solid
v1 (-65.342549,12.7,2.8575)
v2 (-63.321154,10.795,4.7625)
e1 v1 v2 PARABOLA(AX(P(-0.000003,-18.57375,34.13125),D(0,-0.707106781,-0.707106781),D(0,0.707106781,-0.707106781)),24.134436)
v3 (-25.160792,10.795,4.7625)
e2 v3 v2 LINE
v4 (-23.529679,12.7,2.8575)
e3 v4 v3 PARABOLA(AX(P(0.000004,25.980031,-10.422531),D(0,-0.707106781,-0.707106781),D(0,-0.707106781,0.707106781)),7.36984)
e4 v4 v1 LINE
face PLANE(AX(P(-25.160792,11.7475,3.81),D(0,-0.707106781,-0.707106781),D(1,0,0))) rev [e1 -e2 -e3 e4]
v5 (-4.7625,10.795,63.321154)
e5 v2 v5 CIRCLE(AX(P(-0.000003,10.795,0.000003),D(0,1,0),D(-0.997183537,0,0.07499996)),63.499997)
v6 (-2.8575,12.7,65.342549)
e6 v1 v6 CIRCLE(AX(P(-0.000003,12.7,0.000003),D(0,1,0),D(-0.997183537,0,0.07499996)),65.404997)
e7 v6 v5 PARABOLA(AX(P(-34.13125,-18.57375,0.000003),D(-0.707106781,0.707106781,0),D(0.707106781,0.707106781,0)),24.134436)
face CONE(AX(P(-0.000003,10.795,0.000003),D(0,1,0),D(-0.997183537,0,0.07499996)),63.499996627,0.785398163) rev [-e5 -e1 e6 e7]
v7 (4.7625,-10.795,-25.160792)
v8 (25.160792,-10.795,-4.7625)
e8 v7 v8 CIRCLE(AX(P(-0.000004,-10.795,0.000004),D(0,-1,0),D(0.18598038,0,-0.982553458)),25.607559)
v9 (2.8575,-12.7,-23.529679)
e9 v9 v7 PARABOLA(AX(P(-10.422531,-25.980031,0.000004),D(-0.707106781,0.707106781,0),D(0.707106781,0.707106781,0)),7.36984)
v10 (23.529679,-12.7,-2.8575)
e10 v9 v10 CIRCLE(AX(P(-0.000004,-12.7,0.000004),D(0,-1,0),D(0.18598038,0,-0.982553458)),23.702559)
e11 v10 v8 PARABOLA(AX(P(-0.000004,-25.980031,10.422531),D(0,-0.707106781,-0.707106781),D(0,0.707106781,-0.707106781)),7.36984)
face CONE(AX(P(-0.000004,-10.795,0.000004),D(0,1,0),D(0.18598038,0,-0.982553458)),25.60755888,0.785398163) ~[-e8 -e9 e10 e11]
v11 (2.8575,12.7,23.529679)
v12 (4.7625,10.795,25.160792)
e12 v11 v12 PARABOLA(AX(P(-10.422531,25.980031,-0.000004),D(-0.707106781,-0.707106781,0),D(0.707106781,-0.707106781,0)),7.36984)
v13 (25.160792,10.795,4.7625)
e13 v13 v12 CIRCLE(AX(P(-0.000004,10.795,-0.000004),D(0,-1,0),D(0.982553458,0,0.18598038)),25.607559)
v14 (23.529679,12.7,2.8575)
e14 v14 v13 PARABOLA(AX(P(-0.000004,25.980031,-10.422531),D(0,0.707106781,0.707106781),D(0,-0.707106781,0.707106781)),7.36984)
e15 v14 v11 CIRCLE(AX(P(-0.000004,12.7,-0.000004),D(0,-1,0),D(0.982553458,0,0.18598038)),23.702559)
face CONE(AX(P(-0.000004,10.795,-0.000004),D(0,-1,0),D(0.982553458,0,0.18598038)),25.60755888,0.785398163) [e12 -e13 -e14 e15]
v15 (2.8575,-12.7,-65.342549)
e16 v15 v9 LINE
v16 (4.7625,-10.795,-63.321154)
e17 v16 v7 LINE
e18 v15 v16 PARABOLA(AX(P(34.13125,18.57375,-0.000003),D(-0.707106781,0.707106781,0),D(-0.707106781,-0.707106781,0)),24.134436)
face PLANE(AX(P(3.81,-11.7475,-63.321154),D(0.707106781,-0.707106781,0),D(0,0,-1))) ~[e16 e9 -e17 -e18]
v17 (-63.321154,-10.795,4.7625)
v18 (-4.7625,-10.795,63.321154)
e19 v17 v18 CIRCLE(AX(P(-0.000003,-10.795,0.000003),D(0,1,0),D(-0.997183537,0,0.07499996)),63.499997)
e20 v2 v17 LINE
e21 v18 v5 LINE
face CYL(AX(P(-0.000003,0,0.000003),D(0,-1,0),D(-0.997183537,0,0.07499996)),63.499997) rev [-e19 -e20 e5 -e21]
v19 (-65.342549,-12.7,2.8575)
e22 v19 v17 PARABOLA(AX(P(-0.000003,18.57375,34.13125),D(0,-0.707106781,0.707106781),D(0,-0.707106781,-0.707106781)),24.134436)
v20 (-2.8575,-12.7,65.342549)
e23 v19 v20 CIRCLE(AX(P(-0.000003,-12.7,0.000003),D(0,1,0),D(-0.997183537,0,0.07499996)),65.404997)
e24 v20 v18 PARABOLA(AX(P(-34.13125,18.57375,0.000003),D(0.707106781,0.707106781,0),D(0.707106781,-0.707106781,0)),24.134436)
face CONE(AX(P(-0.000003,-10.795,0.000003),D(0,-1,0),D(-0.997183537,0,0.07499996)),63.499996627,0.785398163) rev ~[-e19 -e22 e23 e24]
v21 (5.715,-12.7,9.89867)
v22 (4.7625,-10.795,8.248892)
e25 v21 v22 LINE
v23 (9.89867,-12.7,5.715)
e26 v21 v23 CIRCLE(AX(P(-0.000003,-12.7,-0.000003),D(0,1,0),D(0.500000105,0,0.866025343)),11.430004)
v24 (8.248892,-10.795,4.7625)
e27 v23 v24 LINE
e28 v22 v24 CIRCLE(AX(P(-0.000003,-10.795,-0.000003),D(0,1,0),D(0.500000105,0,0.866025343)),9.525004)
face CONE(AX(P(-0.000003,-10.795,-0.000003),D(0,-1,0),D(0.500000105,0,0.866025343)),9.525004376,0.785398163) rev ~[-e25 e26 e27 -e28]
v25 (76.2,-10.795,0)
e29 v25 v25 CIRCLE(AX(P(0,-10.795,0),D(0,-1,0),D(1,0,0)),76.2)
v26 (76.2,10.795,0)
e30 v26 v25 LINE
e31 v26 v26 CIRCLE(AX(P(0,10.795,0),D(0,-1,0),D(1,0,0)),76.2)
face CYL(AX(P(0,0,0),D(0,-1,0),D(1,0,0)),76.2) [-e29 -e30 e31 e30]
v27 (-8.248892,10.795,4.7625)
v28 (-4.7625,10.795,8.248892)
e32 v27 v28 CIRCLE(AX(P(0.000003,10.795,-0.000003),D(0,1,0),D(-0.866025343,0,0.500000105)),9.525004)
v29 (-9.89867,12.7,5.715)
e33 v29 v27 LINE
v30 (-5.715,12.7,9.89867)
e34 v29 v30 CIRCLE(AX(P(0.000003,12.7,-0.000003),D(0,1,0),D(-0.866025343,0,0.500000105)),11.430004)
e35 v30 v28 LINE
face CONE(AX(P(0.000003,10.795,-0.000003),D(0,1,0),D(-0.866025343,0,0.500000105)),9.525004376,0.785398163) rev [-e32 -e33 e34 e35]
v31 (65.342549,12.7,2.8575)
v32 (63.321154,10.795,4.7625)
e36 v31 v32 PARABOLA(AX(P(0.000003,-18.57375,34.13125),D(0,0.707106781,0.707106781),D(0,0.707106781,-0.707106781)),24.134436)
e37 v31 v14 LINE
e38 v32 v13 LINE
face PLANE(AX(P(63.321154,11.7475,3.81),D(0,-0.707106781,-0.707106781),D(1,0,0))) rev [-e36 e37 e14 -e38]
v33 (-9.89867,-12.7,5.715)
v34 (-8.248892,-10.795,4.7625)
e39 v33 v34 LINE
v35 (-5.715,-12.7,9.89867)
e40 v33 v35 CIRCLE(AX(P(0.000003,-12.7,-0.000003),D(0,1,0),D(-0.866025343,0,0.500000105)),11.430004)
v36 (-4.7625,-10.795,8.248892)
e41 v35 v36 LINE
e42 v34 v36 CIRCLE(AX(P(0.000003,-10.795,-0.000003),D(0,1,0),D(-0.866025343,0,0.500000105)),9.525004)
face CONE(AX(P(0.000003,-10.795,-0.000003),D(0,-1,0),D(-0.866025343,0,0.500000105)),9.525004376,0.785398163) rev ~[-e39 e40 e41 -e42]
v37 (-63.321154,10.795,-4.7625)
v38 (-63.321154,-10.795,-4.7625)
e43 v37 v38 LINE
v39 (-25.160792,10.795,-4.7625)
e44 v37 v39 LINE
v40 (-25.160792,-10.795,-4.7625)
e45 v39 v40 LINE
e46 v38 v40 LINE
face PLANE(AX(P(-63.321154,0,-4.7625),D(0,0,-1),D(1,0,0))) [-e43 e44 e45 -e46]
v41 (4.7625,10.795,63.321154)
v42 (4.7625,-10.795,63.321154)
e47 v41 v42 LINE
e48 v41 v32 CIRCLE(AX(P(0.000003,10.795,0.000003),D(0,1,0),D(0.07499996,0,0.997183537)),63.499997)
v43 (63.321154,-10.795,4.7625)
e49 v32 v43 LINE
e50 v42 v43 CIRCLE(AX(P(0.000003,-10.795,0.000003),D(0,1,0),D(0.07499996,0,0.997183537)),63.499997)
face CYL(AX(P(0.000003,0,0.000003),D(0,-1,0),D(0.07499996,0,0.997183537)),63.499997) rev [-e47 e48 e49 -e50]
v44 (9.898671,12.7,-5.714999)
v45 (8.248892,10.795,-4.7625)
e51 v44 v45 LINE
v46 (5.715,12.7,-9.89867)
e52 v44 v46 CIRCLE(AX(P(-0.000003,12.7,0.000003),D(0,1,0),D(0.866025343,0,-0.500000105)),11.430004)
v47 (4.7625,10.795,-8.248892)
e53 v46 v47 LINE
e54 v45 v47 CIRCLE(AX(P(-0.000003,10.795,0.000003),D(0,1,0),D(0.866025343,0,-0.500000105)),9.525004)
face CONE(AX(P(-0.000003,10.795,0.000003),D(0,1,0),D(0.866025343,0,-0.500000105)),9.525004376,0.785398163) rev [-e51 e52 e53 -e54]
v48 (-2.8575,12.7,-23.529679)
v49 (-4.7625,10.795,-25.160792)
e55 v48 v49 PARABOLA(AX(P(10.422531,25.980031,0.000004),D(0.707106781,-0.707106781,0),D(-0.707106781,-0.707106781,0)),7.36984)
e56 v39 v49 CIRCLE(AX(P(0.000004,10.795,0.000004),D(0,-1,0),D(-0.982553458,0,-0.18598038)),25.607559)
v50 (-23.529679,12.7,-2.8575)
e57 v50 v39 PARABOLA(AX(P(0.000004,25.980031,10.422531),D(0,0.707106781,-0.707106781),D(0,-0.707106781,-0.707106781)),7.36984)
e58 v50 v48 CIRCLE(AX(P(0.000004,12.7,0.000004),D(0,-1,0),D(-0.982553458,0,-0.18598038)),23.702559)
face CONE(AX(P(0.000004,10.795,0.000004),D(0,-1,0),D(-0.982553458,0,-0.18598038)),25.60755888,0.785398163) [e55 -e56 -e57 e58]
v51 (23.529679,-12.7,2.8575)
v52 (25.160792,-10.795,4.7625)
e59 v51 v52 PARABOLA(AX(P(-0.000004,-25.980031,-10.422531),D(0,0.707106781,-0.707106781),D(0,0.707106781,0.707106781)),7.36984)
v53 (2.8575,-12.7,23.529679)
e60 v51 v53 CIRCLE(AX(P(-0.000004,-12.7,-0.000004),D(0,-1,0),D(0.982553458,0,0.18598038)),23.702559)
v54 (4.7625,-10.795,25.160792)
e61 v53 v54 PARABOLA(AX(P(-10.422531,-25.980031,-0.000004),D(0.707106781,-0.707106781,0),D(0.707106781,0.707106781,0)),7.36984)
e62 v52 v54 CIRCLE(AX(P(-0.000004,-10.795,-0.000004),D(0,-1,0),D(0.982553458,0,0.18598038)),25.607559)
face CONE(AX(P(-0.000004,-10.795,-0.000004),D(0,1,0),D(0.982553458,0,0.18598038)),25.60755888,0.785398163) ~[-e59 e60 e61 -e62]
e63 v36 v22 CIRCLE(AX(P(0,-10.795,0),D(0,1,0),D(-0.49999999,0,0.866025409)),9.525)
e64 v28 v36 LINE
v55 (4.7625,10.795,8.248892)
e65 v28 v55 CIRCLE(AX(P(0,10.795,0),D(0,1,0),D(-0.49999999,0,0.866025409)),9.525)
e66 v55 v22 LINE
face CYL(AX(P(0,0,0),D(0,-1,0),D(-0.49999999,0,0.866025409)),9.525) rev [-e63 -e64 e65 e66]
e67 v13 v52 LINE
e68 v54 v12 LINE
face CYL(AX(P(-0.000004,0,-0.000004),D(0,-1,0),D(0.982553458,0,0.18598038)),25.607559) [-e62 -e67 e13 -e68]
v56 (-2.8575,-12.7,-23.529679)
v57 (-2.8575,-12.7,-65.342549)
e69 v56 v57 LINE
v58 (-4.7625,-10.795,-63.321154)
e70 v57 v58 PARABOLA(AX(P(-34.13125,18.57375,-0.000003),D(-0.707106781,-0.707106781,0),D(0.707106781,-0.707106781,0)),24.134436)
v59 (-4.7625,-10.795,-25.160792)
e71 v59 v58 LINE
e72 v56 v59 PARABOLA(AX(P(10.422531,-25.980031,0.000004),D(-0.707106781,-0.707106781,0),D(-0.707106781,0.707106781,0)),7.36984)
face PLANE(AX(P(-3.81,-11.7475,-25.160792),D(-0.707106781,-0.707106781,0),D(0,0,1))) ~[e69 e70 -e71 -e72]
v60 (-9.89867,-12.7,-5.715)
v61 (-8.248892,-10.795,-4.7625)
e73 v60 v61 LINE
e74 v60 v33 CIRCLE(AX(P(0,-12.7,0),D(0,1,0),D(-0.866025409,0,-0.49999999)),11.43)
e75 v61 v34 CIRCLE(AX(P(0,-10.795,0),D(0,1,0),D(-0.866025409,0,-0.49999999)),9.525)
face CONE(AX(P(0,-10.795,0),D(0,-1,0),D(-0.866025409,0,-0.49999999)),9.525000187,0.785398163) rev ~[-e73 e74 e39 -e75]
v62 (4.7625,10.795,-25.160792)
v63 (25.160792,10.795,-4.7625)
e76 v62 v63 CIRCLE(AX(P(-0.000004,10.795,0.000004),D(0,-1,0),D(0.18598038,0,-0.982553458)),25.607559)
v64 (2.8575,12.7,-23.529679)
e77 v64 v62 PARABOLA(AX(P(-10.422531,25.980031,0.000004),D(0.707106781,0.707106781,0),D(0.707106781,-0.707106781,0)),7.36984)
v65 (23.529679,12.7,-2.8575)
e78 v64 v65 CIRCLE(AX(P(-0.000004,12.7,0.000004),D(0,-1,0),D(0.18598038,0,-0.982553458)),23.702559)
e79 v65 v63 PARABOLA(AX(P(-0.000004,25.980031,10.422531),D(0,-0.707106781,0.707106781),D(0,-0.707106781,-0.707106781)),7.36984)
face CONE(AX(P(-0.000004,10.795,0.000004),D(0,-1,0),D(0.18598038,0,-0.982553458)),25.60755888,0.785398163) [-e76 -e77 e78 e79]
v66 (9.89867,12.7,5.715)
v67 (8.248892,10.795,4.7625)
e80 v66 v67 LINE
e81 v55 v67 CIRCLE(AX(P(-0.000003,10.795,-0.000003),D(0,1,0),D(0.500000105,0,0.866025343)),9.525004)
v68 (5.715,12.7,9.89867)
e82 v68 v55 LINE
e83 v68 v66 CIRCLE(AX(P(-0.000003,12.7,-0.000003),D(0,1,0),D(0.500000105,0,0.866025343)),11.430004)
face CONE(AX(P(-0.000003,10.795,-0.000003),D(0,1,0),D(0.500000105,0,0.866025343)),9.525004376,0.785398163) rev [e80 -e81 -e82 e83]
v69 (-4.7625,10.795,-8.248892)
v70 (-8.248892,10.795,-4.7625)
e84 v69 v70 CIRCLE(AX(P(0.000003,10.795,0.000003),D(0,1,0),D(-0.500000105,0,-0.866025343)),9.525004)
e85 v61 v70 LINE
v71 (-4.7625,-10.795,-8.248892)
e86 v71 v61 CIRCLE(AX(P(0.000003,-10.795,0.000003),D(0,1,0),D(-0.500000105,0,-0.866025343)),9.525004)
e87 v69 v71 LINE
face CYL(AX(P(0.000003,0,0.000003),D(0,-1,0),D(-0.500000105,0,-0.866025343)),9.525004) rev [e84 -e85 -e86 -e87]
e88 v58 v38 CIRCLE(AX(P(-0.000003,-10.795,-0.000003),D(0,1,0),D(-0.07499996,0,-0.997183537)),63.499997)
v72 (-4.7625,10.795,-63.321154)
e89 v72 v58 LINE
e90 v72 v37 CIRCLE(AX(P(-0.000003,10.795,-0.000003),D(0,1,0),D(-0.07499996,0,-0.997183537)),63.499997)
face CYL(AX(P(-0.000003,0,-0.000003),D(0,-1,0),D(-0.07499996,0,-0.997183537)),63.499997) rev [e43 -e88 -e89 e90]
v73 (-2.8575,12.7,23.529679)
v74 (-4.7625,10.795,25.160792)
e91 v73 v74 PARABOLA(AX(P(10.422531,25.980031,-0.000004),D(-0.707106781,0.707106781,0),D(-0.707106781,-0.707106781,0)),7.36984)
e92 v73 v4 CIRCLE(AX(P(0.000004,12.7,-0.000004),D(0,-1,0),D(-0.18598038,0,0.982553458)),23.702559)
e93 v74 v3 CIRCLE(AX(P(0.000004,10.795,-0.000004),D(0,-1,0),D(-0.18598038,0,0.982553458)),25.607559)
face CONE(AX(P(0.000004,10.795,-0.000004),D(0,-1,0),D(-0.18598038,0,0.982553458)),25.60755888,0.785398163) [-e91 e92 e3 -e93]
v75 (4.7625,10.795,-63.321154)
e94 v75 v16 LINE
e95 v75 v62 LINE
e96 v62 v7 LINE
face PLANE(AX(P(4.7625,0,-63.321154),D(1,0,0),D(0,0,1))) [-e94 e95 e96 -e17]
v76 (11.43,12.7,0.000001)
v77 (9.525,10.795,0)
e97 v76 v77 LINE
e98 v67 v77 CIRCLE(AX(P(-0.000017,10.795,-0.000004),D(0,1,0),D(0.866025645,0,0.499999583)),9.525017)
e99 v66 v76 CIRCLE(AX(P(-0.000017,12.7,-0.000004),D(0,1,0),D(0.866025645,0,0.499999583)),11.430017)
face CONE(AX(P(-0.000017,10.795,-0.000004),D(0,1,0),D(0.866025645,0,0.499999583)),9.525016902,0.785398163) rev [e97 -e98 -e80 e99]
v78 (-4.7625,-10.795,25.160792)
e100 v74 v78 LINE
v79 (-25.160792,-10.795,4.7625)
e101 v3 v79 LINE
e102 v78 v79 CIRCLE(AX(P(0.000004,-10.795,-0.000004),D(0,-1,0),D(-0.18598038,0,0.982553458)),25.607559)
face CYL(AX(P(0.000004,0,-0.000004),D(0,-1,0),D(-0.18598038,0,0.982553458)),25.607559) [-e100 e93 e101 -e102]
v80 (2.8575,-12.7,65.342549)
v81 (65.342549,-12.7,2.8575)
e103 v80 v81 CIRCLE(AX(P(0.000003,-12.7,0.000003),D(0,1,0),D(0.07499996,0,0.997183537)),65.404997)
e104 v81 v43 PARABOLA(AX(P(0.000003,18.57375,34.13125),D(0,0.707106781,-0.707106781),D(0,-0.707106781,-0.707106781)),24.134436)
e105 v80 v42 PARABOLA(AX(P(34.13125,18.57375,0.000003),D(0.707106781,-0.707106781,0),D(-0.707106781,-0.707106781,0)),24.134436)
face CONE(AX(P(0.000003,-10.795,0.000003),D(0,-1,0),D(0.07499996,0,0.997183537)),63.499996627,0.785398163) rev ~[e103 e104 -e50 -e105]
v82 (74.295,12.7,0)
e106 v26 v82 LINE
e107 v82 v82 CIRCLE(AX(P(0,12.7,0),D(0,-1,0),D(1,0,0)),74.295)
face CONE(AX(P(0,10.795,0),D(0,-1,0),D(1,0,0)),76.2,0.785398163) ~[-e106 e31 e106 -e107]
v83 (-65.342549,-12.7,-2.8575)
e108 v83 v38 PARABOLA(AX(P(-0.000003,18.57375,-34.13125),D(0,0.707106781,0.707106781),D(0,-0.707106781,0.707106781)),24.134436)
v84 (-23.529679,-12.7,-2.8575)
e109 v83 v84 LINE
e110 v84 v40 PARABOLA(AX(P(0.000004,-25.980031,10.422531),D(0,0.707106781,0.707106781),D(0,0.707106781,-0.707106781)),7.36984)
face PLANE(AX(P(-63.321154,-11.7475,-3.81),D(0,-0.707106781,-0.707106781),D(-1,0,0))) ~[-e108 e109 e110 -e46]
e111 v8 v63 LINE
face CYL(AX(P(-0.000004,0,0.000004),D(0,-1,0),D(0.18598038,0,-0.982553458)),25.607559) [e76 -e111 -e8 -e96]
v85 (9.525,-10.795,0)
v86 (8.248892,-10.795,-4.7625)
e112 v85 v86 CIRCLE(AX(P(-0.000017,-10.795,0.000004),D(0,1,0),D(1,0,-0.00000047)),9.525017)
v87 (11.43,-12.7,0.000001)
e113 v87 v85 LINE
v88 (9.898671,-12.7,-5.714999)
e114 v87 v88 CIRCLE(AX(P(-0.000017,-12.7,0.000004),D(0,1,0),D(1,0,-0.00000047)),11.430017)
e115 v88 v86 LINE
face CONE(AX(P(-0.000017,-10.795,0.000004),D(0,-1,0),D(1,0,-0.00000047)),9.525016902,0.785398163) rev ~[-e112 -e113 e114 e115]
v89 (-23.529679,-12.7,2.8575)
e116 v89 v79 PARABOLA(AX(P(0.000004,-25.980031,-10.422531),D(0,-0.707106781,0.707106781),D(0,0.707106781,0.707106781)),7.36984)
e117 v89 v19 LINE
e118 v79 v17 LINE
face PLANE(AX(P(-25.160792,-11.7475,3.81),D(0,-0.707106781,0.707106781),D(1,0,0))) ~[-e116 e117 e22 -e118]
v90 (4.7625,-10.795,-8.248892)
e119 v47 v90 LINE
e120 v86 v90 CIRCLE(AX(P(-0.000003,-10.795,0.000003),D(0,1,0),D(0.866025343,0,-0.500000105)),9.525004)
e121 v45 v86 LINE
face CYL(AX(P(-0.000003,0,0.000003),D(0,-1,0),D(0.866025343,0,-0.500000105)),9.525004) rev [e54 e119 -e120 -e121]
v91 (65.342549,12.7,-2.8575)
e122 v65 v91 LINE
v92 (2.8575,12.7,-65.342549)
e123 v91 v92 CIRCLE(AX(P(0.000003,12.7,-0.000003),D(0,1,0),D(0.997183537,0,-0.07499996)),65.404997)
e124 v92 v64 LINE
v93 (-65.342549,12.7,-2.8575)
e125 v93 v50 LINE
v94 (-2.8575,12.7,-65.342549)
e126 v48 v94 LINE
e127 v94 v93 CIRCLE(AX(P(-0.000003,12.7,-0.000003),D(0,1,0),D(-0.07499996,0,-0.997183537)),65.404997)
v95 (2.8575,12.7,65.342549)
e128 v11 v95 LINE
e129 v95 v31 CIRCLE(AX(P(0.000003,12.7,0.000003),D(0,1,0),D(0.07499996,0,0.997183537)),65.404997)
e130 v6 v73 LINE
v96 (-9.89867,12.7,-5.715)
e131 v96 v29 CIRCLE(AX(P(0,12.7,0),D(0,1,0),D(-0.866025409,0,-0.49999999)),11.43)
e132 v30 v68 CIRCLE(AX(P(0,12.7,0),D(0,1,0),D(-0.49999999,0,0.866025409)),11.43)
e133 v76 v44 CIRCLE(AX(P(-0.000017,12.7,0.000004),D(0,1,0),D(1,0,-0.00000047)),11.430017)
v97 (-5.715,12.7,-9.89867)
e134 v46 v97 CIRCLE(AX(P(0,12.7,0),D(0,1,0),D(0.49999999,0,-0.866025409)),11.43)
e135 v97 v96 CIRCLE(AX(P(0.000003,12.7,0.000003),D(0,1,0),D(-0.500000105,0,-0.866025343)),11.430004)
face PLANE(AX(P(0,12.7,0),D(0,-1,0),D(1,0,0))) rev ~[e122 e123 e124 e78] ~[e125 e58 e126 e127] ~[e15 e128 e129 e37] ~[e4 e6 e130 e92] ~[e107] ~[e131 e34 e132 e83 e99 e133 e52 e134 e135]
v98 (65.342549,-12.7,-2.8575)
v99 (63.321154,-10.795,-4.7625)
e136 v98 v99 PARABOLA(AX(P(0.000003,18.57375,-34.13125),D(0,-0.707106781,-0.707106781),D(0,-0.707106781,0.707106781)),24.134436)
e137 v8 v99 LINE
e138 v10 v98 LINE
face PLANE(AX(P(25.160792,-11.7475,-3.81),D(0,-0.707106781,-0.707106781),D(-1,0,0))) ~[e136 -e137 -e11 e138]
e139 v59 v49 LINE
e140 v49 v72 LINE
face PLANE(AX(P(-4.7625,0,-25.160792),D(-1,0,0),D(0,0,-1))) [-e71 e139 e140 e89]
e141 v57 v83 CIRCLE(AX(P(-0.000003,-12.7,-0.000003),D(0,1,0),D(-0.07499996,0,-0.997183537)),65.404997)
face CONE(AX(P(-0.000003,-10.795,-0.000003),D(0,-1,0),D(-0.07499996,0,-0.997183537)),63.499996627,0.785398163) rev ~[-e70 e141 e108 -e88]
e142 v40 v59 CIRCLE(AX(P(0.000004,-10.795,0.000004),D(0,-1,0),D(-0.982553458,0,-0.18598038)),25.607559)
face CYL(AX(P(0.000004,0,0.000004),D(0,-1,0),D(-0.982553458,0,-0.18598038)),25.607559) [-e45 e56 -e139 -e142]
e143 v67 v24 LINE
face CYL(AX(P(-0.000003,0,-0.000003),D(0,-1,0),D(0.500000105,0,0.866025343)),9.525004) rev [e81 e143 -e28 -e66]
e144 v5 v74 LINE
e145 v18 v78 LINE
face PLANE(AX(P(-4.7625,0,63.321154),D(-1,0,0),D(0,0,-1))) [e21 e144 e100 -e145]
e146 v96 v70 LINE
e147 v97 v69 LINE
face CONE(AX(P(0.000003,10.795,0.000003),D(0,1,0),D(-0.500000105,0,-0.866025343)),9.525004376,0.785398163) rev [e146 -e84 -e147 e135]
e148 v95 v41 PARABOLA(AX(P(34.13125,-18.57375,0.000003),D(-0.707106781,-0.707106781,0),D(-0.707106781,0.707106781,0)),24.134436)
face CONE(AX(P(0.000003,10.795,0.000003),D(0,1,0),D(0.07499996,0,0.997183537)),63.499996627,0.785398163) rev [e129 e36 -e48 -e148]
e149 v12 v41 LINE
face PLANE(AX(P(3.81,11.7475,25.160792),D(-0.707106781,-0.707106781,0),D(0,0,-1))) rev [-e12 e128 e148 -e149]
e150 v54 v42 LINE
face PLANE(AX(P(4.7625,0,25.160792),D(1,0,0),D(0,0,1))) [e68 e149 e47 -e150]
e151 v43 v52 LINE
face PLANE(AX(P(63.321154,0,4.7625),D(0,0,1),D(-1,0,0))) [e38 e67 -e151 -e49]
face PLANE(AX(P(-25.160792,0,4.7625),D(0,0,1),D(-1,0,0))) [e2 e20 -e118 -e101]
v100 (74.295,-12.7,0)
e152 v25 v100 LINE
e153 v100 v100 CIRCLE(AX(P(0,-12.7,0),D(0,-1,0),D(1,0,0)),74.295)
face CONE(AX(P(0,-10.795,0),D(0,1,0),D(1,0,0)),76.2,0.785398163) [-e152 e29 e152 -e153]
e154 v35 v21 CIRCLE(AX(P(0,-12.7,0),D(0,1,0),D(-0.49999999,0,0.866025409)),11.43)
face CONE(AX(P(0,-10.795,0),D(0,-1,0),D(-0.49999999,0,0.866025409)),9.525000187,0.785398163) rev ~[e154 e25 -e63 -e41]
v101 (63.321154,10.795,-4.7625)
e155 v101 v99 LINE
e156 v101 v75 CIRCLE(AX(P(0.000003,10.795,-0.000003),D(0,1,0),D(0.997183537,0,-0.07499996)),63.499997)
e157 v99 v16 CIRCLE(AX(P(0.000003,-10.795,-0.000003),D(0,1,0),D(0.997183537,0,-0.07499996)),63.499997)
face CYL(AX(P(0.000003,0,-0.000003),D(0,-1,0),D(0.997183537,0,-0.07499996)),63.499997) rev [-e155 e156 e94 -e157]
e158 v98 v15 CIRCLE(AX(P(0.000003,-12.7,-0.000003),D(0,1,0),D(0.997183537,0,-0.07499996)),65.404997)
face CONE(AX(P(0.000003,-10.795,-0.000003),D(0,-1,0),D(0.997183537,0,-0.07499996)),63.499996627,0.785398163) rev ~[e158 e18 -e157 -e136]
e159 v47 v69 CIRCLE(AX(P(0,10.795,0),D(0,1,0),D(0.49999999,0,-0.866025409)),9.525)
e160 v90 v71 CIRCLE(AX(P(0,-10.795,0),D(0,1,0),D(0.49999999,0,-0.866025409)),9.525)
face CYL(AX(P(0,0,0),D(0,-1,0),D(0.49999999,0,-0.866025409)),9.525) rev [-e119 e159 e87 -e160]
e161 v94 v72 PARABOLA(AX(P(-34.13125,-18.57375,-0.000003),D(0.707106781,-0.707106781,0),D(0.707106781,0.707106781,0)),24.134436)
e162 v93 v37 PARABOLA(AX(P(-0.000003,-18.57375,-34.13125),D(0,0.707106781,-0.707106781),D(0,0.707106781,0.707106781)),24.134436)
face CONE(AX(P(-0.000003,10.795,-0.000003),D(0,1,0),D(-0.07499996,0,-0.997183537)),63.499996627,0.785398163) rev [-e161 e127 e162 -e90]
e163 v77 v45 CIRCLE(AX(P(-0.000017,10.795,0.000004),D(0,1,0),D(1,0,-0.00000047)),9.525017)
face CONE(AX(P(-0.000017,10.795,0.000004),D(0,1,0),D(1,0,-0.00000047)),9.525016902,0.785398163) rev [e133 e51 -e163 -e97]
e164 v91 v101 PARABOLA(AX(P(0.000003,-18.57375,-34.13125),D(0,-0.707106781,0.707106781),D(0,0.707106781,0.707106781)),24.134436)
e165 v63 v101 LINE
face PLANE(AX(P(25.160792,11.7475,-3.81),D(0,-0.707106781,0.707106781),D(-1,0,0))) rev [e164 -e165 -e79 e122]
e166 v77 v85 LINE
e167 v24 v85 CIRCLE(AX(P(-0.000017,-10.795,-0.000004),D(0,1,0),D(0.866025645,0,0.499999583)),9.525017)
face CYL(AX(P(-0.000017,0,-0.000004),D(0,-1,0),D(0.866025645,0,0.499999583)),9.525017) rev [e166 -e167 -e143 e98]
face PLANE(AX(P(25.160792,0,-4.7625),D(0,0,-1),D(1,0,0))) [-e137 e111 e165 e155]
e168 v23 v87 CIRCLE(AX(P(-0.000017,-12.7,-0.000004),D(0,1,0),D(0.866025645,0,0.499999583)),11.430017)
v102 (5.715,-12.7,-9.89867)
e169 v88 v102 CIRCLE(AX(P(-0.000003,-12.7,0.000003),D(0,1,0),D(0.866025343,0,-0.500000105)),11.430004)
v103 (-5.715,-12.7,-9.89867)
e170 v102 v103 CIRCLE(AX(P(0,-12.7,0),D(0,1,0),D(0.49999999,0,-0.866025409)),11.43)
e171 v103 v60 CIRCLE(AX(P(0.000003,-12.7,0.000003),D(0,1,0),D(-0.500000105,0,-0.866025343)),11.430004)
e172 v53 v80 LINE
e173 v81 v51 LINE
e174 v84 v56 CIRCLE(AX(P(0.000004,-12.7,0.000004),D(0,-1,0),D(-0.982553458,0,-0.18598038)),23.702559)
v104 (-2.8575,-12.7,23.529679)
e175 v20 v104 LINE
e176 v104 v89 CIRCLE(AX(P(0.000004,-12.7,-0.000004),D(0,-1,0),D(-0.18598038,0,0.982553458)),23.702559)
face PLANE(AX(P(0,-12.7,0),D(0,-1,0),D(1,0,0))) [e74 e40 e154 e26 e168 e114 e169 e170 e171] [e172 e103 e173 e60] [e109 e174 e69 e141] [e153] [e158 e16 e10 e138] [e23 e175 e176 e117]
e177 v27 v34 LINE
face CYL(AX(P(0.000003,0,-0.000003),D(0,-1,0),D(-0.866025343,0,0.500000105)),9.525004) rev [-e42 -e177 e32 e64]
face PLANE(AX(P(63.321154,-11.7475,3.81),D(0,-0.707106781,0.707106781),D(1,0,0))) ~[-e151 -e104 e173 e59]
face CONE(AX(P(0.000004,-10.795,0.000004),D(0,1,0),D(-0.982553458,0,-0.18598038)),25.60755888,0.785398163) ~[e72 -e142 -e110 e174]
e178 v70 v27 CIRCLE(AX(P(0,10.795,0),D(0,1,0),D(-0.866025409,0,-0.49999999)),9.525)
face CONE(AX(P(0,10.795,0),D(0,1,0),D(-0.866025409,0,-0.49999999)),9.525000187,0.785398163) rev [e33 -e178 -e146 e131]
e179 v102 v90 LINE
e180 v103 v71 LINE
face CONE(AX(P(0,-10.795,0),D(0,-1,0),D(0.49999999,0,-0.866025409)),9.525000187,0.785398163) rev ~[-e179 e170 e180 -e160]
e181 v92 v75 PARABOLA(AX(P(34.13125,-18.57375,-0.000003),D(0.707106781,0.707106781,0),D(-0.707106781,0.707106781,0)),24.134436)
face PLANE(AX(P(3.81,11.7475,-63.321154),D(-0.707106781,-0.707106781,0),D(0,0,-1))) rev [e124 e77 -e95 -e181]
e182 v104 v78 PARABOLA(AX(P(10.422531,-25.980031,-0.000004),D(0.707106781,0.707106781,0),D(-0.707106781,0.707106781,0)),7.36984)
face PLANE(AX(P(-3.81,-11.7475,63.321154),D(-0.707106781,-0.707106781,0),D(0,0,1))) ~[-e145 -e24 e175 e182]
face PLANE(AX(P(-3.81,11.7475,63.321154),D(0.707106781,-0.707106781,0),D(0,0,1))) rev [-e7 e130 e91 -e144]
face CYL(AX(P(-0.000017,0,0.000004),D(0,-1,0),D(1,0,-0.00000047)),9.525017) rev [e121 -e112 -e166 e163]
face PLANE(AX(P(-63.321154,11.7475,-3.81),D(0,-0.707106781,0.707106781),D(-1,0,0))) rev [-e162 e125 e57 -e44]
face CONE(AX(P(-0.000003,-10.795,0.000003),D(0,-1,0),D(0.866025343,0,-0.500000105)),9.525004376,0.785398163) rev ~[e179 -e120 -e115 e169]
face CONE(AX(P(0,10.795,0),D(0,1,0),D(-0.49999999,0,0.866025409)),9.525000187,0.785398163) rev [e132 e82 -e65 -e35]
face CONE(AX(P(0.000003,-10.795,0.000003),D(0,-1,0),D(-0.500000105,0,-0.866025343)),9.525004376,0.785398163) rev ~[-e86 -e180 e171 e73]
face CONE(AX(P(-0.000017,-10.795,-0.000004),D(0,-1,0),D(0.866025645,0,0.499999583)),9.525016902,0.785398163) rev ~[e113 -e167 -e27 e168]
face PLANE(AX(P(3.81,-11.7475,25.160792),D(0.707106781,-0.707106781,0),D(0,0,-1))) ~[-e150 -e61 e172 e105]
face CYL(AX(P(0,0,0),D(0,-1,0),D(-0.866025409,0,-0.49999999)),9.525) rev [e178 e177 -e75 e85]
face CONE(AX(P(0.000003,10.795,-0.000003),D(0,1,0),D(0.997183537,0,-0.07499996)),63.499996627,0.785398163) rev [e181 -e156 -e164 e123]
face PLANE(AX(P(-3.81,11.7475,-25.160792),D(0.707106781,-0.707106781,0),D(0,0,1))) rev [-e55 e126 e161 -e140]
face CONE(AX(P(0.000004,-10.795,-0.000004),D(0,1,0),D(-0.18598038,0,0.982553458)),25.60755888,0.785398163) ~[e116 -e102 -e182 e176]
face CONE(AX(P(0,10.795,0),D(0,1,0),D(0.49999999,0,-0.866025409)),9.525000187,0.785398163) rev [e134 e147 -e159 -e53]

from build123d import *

# Parameters (mm, degrees)
F0_R     = 76.2
F1_DEPTH = 12.7
F2_SIZE  = 1.905
F3_SIZE  = 1.905


with BuildPart() as f1:
    # F0 (on Front) → F1 (new body, symmetric)
    with BuildSketch(Plane.XZ):
        Circle(F0_R)
        with BuildLine():
            ThreePointArc((-4.7625, -63.321154), (-44.901281, -44.901281), (-63.321154, -4.7625))
            Line((-63.321154, -4.7625), (-25.160792, -4.7625))
            Line((-25.160792, -4.7625), (-8.248892, -4.7625))
            ThreePointArc((-8.248892, -4.7625), (-9.525, 0), (-8.248892, 4.7625))
            Line((-8.248892, 4.7625), (-25.160792, 4.7625))
            Line((-25.160792, 4.7625), (-63.321154, 4.7625))
            ThreePointArc((-63.321154, 4.7625), (-44.901281, 44.901281), (-4.7625, 63.321154))
            Line((-4.7625, 63.321154), (-4.7625, 25.160792))
            Line((-4.7625, 25.160792), (-4.7625, 8.248892))
            ThreePointArc((-4.7625, 8.248892), (0, 9.525), (4.7625, 8.248892))
            Line((4.7625, 8.248892), (4.7625, 25.160792))
            Line((4.7625, 25.160792), (4.7625, 63.321154))
            ThreePointArc((4.7625, 63.321154), (44.901281, 44.901281), (63.321154, 4.7625))
            Line((63.321154, 4.7625), (25.160792, 4.7625))
            Line((25.160792, 4.7625), (8.248892, 4.7625))
            ThreePointArc((8.248892, 4.7625), (9.200443, 2.465251), (9.525, 0))
            ThreePointArc((9.525, 0), (9.200443, -2.465251), (8.248892, -4.7625))
            Line((8.248892, -4.7625), (25.160792, -4.7625))
            Line((25.160792, -4.7625), (63.321154, -4.7625))
            ThreePointArc((63.321154, -4.7625), (44.901281, -44.901281), (4.7625, -63.321154))
            Line((4.7625, -63.321154), (4.7625, -25.160792))
            Line((4.7625, -25.160792), (4.7625, -8.248892))
            ThreePointArc((4.7625, -8.248892), (0, -9.525), (-4.7625, -8.248892))
            Line((-4.7625, -8.248892), (-4.7625, -25.160792))
            Line((-4.7625, -25.160792), (-4.7625, -63.321154))
        make_face(mode=Mode.SUBTRACT)
        with BuildLine():
            Line((-25.160792, 4.7625), (-8.248892, 4.7625))
            ThreePointArc((-8.248892, 4.7625), (-6.735192, 6.735192), (-4.7625, 8.248892))
            Line((-4.7625, 8.248892), (-4.7625, 25.160792))
            ThreePointArc((-4.7625, 25.160792), (-18.107275, 18.107275), (-25.160792, 4.7625))
        make_face()
        with BuildLine():
            Line((4.7625, 25.160792), (4.7625, 8.248892))
            ThreePointArc((4.7625, 8.248892), (6.735192, 6.735192), (8.248892, 4.7625))
            Line((8.248892, 4.7625), (25.160792, 4.7625))
            ThreePointArc((25.160792, 4.7625), (18.107275, 18.107275), (4.7625, 25.160792))
        make_face()
        with BuildLine():
            ThreePointArc((8.248892, -4.7625), (6.735192, -6.735192), (4.7625, -8.248892))
            Line((4.7625, -8.248892), (4.7625, -25.160792))
            ThreePointArc((4.7625, -25.160792), (18.107275, -18.107275), (25.160792, -4.7625))
            Line((25.160792, -4.7625), (8.248892, -4.7625))
        make_face()
        with BuildLine():
            Line((-8.248892, -4.7625), (-25.160792, -4.7625))
            ThreePointArc((-25.160792, -4.7625), (-18.107275, -18.107275), (-4.7625, -25.160792))
            Line((-4.7625, -25.160792), (-4.7625, -8.248892))
            ThreePointArc((-4.7625, -8.248892), (-6.735192, -6.735192), (-8.248892, -4.7625))
        make_face()
    extrude(amount=F1_DEPTH, both=True)

    # F2
    f2_edges = [f1.edges().sort_by_distance(p)[0] for p in [
        (-76.2, -12.7, 0),
        (-4.7625, -12.7, -44.240973),
        (-44.901281, -12.7, -44.901281),
        (-44.240973, -12.7, -4.7625),
        (-18.107275, -12.7, -18.107275),
        (4.7625, -12.7, 8.248892),
        (44.240973, -12.7, -4.7625),
        (44.901281, -12.7, -44.901281),
        (4.7625, -12.7, -44.240973),
        (18.107275, -12.7, -18.107275),
        (4.7625, -12.7, 44.240973),
        (44.901281, -12.7, 44.901281),
        (44.240973, -12.7, 4.7625),
        (18.107275, -12.7, 18.107275),
        (-44.240973, -12.7, 4.7625),
        (-44.901281, -12.7, 44.901281),
        (-4.7625, -12.7, 44.240973),
        (-18.107275, -12.7, 18.107275),
    ]]
    chamfer(f2_edges, length=F2_SIZE)

    # F3
    f3_edges = [f1.edges().sort_by_distance(p)[0] for p in [
        (-76.2, 12.7, 0),
        (4.7625, 12.7, 8.248892),
        (-4.7625, 12.7, -44.240973),
        (-44.901281, 12.7, -44.901281),
        (-44.240973, 12.7, -4.7625),
        (-18.107275, 12.7, -18.107275),
        (44.240973, 12.7, -4.7625),
        (44.901281, 12.7, -44.901281),
        (4.7625, 12.7, -44.240973),
        (18.107275, 12.7, -18.107275),
        (4.7625, 12.7, 44.240973),
        (44.901281, 12.7, 44.901281),
        (44.240973, 12.7, 4.7625),
        (18.107275, 12.7, 18.107275),
        (-44.240973, 12.7, 4.7625),
        (-44.901281, 12.7, 44.901281),
        (-4.7625, 12.7, 44.240973),
        (-18.107275, 12.7, 18.107275),
    ]]
    chamfer(f3_edges, length=F3_SIZE)


solid = f1.part
